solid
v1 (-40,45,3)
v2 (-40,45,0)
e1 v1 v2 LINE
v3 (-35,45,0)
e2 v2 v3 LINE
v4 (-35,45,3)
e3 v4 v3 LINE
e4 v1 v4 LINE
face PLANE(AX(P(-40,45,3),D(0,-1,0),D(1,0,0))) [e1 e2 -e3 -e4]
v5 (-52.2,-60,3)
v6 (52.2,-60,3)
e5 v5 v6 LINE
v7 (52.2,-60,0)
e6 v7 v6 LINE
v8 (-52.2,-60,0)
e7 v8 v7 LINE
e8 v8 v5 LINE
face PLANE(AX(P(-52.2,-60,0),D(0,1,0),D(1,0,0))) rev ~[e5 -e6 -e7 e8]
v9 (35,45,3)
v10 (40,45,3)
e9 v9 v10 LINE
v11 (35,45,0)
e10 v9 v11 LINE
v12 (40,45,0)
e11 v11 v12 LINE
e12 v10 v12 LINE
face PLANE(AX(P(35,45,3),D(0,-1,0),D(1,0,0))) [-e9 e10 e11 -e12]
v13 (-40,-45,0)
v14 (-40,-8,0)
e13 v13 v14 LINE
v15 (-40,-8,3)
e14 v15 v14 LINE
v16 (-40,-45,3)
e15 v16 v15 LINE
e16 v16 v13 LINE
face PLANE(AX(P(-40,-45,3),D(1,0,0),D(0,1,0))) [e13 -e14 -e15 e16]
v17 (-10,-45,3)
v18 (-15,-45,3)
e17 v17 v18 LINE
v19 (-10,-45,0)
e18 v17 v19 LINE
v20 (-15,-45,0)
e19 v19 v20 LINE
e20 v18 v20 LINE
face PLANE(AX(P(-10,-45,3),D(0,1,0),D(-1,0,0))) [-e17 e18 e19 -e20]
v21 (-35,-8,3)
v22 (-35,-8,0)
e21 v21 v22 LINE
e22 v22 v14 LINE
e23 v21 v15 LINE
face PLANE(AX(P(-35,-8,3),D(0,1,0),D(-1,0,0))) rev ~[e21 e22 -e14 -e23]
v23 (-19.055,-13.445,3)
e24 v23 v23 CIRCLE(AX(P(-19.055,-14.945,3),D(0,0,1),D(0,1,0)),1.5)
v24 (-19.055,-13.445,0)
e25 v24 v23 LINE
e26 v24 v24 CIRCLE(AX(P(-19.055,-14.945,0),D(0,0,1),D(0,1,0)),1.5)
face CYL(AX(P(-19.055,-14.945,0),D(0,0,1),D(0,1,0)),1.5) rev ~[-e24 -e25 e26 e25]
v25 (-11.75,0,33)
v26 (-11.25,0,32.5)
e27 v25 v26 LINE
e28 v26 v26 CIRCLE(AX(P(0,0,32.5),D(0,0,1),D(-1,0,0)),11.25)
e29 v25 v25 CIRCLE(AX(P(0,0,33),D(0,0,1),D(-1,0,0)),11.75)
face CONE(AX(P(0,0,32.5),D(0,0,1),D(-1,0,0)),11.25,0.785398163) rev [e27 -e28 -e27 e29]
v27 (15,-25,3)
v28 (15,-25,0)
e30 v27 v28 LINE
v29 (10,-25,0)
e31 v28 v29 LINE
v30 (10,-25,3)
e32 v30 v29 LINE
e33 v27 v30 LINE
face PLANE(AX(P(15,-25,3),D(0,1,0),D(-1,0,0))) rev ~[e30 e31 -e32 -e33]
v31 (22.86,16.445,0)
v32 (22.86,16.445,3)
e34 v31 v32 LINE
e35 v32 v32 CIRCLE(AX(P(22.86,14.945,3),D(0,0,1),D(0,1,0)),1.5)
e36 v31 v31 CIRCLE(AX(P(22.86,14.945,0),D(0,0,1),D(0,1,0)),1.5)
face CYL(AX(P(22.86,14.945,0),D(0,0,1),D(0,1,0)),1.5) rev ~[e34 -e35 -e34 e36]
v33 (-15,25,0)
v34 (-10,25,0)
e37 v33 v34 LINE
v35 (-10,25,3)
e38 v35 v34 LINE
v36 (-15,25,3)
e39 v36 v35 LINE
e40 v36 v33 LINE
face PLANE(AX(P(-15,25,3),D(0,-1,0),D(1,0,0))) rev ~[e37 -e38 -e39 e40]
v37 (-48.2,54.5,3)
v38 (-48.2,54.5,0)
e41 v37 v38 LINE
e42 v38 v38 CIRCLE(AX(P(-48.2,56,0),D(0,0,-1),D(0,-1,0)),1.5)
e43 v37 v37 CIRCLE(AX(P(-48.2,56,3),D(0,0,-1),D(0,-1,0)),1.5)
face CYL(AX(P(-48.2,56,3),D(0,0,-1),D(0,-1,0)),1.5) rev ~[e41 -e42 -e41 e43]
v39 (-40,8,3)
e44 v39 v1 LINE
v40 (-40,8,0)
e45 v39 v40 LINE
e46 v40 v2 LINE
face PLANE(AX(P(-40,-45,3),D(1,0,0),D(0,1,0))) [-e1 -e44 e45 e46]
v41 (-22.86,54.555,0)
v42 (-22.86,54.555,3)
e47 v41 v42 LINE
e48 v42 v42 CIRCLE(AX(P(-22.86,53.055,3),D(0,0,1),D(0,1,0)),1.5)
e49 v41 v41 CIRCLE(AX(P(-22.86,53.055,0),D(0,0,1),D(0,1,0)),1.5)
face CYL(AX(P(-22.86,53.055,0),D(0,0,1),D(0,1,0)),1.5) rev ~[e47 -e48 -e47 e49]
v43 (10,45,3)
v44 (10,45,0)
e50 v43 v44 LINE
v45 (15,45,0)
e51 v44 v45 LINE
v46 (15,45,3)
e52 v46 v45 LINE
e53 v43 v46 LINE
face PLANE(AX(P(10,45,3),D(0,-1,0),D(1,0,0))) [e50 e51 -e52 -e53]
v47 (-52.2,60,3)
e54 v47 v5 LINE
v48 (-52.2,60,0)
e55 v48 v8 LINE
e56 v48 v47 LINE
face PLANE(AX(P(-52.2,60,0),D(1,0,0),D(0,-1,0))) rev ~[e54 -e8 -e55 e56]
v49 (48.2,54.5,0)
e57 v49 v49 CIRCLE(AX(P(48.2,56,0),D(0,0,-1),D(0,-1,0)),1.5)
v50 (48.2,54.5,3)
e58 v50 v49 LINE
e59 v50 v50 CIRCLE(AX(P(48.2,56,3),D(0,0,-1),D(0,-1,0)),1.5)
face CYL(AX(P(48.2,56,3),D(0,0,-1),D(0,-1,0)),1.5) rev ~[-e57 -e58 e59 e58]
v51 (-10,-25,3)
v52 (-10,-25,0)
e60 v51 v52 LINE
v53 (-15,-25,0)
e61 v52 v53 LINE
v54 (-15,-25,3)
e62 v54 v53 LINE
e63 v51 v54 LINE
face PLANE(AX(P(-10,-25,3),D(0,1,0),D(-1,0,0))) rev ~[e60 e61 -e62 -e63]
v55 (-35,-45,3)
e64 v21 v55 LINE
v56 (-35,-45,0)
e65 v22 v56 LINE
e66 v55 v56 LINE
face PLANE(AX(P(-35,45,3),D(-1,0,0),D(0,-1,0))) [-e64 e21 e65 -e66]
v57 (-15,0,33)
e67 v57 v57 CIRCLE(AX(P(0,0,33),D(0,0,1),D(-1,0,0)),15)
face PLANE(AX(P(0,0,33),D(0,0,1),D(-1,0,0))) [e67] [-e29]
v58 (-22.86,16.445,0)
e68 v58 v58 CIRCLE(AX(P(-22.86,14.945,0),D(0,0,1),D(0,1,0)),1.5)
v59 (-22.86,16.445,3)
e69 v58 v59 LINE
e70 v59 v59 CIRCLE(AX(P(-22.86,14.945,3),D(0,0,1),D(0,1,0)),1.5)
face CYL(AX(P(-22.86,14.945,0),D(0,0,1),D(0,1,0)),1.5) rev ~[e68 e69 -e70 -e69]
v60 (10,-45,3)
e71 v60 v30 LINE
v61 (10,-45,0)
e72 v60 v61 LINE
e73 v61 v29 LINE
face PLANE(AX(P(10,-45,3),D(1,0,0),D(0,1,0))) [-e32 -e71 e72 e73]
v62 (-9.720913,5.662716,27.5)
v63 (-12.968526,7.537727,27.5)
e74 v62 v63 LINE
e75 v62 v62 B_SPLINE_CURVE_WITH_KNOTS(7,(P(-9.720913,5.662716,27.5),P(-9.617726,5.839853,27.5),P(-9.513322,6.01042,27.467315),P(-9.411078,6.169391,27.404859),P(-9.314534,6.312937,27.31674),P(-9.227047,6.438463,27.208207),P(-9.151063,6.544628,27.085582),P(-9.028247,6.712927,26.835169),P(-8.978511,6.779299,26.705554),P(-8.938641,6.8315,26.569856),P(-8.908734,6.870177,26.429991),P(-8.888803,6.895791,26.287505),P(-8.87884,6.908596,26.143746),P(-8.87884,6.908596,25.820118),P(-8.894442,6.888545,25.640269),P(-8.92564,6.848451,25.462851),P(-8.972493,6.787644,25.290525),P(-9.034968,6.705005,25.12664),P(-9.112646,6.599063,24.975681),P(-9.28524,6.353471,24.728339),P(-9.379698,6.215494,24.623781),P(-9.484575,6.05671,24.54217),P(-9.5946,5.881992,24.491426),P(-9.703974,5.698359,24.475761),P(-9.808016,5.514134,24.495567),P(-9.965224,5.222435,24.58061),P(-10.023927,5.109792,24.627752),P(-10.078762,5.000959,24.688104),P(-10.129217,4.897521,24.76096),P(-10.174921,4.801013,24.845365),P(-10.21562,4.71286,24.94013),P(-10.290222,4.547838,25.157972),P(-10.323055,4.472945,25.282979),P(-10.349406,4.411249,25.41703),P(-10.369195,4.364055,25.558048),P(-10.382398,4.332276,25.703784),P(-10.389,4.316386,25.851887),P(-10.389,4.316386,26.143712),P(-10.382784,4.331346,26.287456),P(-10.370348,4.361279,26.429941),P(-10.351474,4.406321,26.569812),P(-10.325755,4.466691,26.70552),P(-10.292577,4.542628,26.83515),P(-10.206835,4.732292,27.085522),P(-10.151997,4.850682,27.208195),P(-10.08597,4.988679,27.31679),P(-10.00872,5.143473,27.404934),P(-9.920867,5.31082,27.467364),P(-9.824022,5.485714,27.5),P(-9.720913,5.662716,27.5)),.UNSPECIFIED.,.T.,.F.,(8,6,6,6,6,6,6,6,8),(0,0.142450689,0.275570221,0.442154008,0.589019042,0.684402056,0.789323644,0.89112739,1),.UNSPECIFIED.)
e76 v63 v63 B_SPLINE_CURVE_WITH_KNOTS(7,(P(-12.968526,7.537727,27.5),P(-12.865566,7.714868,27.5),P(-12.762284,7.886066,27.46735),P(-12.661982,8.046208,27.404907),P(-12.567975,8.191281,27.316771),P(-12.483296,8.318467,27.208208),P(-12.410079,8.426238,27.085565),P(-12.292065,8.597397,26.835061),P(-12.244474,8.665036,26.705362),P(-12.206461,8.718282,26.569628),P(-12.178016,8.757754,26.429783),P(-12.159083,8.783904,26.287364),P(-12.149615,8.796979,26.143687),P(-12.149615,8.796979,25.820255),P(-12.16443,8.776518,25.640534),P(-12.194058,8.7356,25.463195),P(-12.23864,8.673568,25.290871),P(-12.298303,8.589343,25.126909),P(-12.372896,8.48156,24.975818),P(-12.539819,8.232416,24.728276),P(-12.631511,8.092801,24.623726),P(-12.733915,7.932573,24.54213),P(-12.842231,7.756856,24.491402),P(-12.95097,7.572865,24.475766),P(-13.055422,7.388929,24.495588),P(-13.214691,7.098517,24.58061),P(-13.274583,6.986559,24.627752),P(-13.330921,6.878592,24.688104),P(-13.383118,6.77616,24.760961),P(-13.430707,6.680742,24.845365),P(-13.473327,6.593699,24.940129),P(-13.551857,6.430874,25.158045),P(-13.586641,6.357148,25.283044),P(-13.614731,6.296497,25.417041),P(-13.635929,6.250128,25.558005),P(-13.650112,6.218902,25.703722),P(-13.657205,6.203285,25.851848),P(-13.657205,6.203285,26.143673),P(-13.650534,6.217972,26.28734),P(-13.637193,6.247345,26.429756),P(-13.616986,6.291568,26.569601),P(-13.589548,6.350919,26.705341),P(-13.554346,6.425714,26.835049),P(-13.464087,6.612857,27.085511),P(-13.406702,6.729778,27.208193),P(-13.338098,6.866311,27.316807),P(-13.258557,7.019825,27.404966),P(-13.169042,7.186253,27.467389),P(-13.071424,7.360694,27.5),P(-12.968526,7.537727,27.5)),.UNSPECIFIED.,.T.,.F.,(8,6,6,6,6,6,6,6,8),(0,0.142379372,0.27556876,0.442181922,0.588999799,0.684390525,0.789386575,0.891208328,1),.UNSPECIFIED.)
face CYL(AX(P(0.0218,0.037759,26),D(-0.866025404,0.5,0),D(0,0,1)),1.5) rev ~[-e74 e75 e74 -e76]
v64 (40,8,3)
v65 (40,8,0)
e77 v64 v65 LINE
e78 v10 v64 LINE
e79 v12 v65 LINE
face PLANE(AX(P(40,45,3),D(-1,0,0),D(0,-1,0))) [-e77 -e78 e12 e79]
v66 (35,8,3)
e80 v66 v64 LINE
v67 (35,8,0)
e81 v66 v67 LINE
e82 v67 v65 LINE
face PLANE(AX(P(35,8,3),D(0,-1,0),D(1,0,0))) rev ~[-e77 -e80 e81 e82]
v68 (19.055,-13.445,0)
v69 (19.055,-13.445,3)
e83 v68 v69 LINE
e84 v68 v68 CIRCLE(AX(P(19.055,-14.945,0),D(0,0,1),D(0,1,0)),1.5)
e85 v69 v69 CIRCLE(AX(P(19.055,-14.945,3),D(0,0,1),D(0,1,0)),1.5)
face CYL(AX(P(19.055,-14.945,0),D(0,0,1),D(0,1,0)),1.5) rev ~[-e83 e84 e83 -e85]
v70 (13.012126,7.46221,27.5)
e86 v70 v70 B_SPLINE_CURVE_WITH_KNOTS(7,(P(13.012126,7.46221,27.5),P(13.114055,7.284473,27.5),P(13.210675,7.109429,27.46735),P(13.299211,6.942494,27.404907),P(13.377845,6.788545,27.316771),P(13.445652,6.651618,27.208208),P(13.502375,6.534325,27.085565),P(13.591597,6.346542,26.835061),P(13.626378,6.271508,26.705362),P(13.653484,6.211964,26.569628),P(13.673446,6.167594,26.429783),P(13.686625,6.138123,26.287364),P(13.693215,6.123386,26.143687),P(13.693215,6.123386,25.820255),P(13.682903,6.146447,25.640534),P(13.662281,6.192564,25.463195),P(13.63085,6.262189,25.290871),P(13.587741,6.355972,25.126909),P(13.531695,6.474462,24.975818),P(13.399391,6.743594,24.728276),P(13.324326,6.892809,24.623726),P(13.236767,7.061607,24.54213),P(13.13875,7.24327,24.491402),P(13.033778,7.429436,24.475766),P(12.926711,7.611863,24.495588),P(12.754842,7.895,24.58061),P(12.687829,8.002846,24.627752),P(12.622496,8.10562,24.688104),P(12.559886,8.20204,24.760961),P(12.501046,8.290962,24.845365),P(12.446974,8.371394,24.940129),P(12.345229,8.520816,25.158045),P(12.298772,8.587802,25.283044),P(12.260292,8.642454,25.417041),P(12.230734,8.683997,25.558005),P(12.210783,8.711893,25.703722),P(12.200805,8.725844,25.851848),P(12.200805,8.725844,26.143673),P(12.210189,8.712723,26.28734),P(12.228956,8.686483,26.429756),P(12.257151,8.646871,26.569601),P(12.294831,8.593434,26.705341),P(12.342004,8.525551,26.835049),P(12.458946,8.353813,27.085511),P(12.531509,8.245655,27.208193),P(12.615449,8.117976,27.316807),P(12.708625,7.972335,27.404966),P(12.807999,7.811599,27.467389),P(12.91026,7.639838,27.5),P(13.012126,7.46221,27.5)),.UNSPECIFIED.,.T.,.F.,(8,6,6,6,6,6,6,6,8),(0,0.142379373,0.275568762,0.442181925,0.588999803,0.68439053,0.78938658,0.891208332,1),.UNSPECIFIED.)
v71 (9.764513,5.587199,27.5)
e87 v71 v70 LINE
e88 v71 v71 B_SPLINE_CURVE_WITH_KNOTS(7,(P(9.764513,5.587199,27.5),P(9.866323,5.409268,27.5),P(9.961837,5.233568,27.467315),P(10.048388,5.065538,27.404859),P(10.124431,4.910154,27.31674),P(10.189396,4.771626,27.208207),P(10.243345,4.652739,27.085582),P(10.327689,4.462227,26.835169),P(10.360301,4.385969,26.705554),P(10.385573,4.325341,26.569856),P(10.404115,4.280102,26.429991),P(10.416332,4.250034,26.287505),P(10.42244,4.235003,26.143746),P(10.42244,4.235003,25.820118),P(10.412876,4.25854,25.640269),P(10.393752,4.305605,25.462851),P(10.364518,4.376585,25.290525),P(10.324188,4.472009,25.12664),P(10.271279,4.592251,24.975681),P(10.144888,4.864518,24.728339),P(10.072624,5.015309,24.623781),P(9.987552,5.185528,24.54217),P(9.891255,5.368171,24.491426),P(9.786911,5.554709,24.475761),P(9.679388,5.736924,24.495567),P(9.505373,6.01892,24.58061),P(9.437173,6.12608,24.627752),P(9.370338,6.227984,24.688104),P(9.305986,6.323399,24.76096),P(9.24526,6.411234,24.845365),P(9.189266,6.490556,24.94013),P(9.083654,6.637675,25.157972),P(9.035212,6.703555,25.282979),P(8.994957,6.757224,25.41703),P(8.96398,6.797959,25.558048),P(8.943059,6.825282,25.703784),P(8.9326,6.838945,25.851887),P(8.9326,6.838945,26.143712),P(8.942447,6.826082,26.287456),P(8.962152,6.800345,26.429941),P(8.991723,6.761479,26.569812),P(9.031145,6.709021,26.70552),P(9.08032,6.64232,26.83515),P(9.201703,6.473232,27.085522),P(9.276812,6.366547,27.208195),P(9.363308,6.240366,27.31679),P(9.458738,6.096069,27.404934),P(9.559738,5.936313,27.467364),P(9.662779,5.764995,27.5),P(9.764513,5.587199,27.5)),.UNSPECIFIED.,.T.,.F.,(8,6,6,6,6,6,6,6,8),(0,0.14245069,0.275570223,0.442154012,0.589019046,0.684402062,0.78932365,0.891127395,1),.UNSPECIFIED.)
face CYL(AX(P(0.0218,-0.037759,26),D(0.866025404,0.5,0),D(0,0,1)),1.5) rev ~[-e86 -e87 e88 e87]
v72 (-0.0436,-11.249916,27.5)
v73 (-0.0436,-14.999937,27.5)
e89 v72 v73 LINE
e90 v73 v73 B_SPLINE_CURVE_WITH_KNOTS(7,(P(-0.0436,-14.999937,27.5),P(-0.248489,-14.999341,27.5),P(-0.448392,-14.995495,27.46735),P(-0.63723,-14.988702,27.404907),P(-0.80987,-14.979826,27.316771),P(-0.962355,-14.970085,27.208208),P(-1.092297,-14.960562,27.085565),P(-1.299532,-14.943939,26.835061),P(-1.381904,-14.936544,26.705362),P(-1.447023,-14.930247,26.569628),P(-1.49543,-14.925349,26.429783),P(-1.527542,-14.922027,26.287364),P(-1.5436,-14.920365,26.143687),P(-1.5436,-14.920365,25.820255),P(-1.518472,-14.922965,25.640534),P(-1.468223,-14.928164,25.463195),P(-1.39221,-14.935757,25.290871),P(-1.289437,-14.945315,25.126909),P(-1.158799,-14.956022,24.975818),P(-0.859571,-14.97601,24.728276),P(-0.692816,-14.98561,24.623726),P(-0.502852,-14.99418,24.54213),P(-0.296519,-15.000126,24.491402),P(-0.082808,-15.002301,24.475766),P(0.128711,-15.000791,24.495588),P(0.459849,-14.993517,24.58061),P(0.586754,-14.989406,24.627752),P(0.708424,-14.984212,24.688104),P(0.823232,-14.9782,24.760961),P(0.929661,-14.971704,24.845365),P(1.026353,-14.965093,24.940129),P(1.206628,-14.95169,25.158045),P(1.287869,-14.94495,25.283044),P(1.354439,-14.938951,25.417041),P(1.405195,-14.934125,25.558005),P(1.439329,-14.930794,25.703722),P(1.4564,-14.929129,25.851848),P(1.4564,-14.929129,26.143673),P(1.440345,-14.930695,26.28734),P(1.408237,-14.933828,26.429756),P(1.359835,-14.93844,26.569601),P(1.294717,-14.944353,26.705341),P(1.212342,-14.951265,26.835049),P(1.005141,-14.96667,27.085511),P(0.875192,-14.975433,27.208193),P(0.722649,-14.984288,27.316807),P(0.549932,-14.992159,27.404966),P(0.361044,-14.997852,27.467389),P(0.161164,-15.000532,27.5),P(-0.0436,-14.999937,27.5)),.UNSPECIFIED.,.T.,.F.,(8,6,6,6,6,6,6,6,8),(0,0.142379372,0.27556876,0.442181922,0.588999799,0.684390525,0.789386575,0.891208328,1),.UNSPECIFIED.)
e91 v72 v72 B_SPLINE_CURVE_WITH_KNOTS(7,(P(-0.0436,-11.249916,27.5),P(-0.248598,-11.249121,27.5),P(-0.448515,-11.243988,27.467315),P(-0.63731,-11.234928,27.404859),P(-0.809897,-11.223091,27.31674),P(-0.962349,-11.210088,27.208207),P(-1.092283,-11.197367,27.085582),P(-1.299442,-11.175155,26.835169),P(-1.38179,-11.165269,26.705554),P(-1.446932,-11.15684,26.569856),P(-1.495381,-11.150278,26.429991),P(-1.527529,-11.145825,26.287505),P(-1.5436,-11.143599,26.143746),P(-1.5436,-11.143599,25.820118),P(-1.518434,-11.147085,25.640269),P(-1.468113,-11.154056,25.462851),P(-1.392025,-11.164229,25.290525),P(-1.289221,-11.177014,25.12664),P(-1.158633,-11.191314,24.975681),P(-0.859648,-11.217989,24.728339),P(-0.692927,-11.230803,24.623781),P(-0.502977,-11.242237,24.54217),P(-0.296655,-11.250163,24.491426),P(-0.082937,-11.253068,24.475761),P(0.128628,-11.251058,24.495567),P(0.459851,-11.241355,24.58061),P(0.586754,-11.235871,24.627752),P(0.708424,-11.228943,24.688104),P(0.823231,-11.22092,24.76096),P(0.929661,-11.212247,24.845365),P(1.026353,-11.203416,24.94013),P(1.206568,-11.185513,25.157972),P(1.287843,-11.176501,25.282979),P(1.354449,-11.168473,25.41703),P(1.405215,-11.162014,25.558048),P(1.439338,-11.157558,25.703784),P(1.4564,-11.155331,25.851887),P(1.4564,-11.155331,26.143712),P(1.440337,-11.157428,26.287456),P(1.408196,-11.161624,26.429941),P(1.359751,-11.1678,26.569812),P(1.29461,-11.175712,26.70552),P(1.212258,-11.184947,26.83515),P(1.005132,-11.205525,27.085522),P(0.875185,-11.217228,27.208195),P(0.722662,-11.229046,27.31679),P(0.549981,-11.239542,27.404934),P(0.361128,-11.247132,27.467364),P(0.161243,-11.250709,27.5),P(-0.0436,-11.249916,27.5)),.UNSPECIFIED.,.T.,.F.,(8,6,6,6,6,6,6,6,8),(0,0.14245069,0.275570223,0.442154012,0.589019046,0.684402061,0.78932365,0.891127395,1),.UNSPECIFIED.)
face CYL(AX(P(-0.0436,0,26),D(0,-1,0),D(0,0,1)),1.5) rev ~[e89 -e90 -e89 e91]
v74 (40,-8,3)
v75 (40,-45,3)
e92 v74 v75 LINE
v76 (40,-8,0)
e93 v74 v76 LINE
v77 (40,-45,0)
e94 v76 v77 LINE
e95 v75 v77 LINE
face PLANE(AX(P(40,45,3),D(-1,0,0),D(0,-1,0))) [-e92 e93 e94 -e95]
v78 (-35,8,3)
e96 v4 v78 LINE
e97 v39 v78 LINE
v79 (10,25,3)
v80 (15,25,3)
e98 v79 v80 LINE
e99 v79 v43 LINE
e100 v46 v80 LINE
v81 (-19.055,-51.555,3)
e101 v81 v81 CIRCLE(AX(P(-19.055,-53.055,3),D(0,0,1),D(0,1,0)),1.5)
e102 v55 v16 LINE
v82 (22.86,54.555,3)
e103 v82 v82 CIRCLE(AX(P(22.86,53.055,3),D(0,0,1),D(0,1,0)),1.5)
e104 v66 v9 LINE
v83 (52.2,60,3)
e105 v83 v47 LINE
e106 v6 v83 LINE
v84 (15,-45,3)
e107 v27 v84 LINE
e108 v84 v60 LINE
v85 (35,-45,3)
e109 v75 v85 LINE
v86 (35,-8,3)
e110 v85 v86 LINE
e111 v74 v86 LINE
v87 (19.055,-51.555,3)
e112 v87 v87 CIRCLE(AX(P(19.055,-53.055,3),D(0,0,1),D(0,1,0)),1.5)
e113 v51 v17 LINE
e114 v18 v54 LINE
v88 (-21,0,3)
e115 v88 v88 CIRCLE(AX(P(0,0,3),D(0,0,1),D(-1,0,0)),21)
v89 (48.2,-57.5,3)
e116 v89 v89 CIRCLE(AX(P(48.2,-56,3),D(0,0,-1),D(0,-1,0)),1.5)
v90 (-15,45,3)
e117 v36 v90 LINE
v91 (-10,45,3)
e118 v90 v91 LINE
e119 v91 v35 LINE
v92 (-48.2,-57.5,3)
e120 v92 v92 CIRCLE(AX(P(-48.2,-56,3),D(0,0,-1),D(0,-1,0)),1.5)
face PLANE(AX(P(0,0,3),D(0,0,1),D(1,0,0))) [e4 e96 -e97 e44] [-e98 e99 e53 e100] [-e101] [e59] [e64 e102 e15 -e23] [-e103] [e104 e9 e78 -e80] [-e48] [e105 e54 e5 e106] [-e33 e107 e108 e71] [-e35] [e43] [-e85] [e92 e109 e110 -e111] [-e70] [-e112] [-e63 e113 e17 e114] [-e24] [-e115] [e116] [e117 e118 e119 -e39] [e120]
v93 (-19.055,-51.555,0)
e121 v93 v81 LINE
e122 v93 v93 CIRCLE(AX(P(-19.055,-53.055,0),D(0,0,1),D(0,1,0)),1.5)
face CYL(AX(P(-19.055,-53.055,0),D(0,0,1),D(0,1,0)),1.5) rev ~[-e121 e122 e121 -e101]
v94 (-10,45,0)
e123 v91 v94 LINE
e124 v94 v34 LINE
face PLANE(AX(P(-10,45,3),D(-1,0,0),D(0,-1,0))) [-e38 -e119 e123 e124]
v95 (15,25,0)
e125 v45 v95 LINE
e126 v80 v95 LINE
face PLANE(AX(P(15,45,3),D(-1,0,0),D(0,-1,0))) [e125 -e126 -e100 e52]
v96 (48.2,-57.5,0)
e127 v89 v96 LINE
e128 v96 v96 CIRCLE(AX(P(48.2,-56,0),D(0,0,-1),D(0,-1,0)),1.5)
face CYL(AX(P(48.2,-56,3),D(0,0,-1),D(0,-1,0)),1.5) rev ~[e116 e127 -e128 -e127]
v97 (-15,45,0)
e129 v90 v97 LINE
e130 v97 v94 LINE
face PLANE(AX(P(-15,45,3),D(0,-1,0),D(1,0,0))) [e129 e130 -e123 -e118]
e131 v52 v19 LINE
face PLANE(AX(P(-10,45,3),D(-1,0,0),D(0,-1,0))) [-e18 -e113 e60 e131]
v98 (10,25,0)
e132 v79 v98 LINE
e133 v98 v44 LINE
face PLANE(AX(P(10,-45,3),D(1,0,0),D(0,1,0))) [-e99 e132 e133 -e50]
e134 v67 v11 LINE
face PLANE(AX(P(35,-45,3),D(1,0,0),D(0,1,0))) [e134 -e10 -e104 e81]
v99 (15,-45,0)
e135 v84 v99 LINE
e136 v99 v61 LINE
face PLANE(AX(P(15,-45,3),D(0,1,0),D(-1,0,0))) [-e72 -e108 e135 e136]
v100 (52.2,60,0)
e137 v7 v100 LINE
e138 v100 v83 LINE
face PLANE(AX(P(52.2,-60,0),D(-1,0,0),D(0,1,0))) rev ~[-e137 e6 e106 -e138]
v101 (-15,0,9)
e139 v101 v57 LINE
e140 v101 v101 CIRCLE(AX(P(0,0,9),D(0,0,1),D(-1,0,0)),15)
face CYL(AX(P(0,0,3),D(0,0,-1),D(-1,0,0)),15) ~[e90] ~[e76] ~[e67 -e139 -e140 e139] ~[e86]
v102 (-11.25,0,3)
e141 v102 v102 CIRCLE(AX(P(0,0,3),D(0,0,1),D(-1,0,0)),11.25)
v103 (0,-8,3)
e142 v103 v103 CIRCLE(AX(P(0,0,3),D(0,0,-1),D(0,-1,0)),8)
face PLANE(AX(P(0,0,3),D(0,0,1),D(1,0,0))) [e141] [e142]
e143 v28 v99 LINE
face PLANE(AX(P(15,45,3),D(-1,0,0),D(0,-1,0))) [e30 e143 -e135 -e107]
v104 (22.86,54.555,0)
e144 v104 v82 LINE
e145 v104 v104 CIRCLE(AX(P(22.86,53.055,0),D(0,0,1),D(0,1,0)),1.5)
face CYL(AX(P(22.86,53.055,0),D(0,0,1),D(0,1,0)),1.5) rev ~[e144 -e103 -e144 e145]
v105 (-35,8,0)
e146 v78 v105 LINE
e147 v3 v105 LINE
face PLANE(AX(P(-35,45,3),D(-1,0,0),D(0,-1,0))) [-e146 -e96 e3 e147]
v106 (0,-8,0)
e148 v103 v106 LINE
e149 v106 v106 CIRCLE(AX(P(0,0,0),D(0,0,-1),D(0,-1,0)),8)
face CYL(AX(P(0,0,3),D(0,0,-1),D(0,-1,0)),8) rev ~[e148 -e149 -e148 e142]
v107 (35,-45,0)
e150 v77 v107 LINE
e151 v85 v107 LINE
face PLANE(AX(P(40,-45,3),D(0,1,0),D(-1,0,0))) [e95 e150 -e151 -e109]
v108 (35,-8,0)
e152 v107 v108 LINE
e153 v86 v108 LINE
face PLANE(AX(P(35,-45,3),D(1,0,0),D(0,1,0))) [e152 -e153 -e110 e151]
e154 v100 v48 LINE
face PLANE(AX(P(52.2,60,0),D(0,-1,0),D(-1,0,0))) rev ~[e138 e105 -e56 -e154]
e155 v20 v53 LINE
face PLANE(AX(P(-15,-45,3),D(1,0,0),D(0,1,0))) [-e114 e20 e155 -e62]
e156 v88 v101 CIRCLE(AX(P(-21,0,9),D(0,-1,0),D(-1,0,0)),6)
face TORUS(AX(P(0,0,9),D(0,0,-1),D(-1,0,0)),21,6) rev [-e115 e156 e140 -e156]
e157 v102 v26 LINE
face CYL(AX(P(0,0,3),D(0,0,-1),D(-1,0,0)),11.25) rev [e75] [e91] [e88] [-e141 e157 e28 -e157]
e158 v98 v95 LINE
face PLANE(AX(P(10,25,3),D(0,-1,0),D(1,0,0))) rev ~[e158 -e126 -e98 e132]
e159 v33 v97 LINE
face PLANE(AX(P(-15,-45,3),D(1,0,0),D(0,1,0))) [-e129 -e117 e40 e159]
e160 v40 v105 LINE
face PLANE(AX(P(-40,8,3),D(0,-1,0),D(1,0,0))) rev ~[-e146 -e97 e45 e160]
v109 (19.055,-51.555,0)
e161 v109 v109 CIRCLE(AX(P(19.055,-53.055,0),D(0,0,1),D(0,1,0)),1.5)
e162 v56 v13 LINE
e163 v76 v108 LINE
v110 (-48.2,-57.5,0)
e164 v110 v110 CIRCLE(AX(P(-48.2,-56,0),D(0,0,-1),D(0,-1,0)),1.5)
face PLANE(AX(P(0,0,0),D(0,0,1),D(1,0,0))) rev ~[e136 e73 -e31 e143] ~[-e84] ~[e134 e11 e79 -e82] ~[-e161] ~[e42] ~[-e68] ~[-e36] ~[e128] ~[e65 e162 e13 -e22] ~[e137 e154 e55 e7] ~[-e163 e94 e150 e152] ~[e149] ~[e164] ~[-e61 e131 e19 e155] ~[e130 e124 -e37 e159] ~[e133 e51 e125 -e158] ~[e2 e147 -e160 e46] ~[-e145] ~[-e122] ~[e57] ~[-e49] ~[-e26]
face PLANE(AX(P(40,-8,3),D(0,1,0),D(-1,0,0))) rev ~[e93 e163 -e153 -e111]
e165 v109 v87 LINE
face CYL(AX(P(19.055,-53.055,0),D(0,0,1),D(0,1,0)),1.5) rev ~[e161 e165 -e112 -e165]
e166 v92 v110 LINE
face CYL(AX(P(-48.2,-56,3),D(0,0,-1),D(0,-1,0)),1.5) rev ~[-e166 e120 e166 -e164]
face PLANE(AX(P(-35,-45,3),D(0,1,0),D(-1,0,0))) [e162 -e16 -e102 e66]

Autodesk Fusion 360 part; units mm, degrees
sketch "Sketch1" plane through (0, 0, 0) normal (0, 0, 1) x (1, 0, 0)
  line L0 (-52.2, -60) -> (52.2, -60)
  line L1 (52.2, -60) -> (52.2, 60)
  line L2 (52.2, 60) -> (-52.2, 60)
  line L3 (-52.2, 60) -> (-52.2, -60)
  dimension "d1" = 104.4
  dimension "d2" = 120
  dimension "d3" = 60
  dimension "d4" = 52.2
extrude "Extrude1" add sketch "Sketch1" along normal blind 3
sketch "Sketch2" plane through (0, 0, 3) normal (0, 0, 1) x (-1, 0, 0)
  line L0 (52.2, -60) -> (52.2, 60)
  line L1 (52.2, 60) -> (-52.2, 60)
  line L2 (-52.2, 60) -> (-52.2, -60)
  line L3 (-52.2, -60) -> (52.2, -60)
  circle A0 centre (-48.2, -56) radius 1.5
  circle A1 centre (48.2, -56) radius 1.5
  circle A2 centre (48.2, 56) radius 1.5
  circle A3 centre (-48.2, 56) radius 1.5
  dimension "d7" = 3
  dimension "d8" = 3
  dimension "d9" = 3
  dimension "d10" = 3
  dimension "d11" = 4
  dimension "d12" = 4
  dimension "d13" = 4
  dimension "d14" = 4
  dimension "d15" = 4
  dimension "d16" = 4
  dimension "d17" = 4
  dimension "d18" = 4
hole "Hole1" at (-48.2, 56, 3) at (48.2, 56, 3) at (48.2, -56, 3) at (-48.2, -56, 3) direction (0, 0, -1) diameter 3 depth 3 tip angle 118
sketch "Sketch4" plane through (0, 0, 3) normal (0, 0, 1) x (-1, 0, 0)
  circle A0 centre (-48.2, 56) radius 1.5
  circle A1 centre (48.2, -56) radius 1.5
  circle A2 centre (-48.2, -56) radius 1.5
  circle A3 centre (48.2, 56) radius 1.5
  line L0 (52.2, -60) -> (52.2, 60)
  line L1 (52.2, 60) -> (-52.2, 60)
  line L2 (-52.2, 60) -> (-52.2, -60)
  line L3 (-52.2, -60) -> (52.2, -60)
  line L4 (40, -45) -> (35, -45)
  line L5 (35, -45) -> (35, 45)
  line L6 (35, 45) -> (40, 45)
  line L7 (40, 45) -> (40, -45)
  line L8 (10, -45) -> (10, 45)
  line L9 (10, 45) -> (15, 45)
  line L10 (15, 45) -> (15, -45)
  line L11 (15, -45) -> (10, -45)
  line L12 (-15, -45) -> (-15, 45)
  line L13 (-15, 45) -> (-10, 45)
  line L14 (-10, 45) -> (-10, -45)
  line L15 (-10, -45) -> (-15, -45)
  line L16 (-40, -45) -> (-40, 45)
  line L17 (-40, 45) -> (-35, 45)
  line L18 (-35, 45) -> (-35, -45)
  line L19 (-35, -45) -> (-40, -45)
  dimension "d39" = -75
  dimension "d40" = 0
  dimension "d41" = 5
  dimension "d42" = 90
  dimension "d43" = 40
  dimension "d44" = 45
extrude "Extrude2" cut sketch "Sketch4" against normal blind 3 contours L4 L5 L6 L7 | L8 L9 L10 L11 | L12 L13 L14 L15 | L16 L17 L18 L19
sketch "Sketch6" plane through (0, 0, 3) normal (0, 0, 1) x (-1, 0, 0)
  line L0 (10, 45) -> (15, 45)
  line L1 (15, 45) -> (15, -45)
  line L2 (15, -45) -> (10, -45)
  line L3 (10, -45) -> (10, 45)
  line L4 (-15, 45) -> (-10, 45)
  line L5 (-10, 45) -> (-10, -45)
  line L6 (-10, -45) -> (-15, -45)
  line L7 (-15, -45) -> (-15, 45)
  line L8 (35, -45) -> (35, 45)
  line L9 (35, 45) -> (40, 45)
  line L10 (40, 45) -> (40, -45)
  line L11 (40, -45) -> (35, -45)
  line L12 (-40, 45) -> (-35, 45)
  line L13 (-35, 45) -> (-35, -45)
  line L14 (-35, -45) -> (-40, -45)
  line L15 (-40, -45) -> (-40, 45)
  circle A0 centre (-48.2, 56) radius 1.5
  circle A1 centre (48.2, -56) radius 1.5
  circle A2 centre (-48.2, -56) radius 1.5
  circle A3 centre (48.2, 56) radius 1.5
  line L16 (52.2, -60) -> (52.2, 60)
  line L17 (52.2, 60) -> (-52.2, 60)
  line L18 (-52.2, 60) -> (-52.2, -60)
  line L19 (-52.2, -60) -> (52.2, -60)
  line L20 (-15, 25) -> (15, 25)
  line L21 (15, 25) -> (15, -25)
  line L22 (15, -25) -> (-15, -25)
  line L23 (-15, -25) -> (-15, 25)
  line L24 (-15, 25) -> (15, -25) construction
  line L25 (15, 25) -> (-15, -25) construction
  line L26 (40, -8) -> (35, -8)
  line L27 (35, -8) -> (35, 8)
  line L28 (35, 8) -> (40, 8)
  line L29 (40, 8) -> (40, -8)
  line L30 (-35, -8) -> (-40, -8)
  line L31 (-40, -8) -> (-40, 8)
  line L32 (-40, 8) -> (-35, 8)
  line L33 (-35, 8) -> (-35, -8)
  dimension "d49" = 50
  dimension "d56" = 8
  dimension "d57" = 16
  dimension "d58" = 8
  dimension "d59" = 16
extrude "Extrude3" add sketch "Sketch6" against normal blind 3 contours L1 L3 L20 L21 L22 | L5 L7 L20 L22 L23 | L8 L10 L26 L27 L28 L29 | L13 L15 L30 L31 L32 L33
sketch "Sketch5" plane through (0, 0, 3) normal (0, 0, 1) x (-1, 0, 0)
  line L0 (10, 45) -> (15, 45)
  line L1 (15, 45) -> (15, 25)
  line L2 (15, -45) -> (10, -45)
  line L3 (10, 25) -> (10, 45)
  line L4 (-15, 45) -> (-10, 45)
  line L5 (-10, -25) -> (-10, -45)
  line L6 (-10, -45) -> (-15, -45)
  line L7 (-15, -45) -> (-15, -25)
  line L8 (35, 8) -> (35, 45)
  line L9 (35, 45) -> (40, 45)
  line L10 (40, 45) -> (40, 8)
  line L11 (40, -45) -> (35, -45)
  line L12 (-40, 45) -> (-35, 45)
  line L13 (-35, 45) -> (-35, 8)
  line L14 (-35, -45) -> (-40, -45)
  line L15 (-40, 8) -> (-40, 45)
  circle A0 centre (-48.2, 56) radius 1.5
  circle A1 centre (48.2, -56) radius 1.5
  circle A2 centre (-48.2, -56) radius 1.5
  circle A3 centre (48.2, 56) radius 1.5
  line L16 (52.2, -60) -> (52.2, 60)
  line L17 (52.2, 60) -> (-52.2, 60)
  line L18 (-52.2, 60) -> (-52.2, -60)
  line L19 (-52.2, -60) -> (52.2, -60)
  circle A4 centre (0, 0) radius 11.25
  circle A5 centre (0, 0) radius 15
  line L20 (15, 25) -> (10, 25)
  line L21 (-15, -25) -> (-10, -25)
  line L22 (10, -25) -> (15, -25)
  line L23 (15, -25) -> (15, -45)
  line L24 (10, -45) -> (10, -25)
  line L25 (-10, 25) -> (-15, 25)
  line L26 (-15, 25) -> (-15, 45)
  line L27 (-10, 45) -> (-10, 25)
  line L28 (-35, 8) -> (-40, 8)
  line L29 (40, 8) -> (35, 8)
  line L30 (35, -8) -> (40, -8)
  line L31 (40, -8) -> (40, -45)
  line L32 (35, -45) -> (35, -8)
  line L33 (-40, -8) -> (-35, -8)
  line L34 (-35, -8) -> (-35, -45)
  line L35 (-40, -45) -> (-40, -8)
  dimension "d47" = 22.5
  dimension "d48" = 30
extrude "Extrude4" add sketch "Sketch5" along normal blind 30 contours A5
fillet "Fillet1" radius 6 1 edges at (13.9849, -5.4242, 3)
chamfer "Chamfer1" distance 0.5 angle 45 1 edges at (10.4887, -4.0682, 33)
sketch "Sketch7" plane through (0, 0, 0) normal (0, 1, 0) x (1, 0, 0)
  circle A0 centre (-0.0436, -26) radius 1.5
  dimension "d61" = 26
  dimension "d62" = 3
hole "Hole3" at (-0.0436, 0, 26) direction (0, -1, 0) diameter 3 depth 17 tip angle 118
thread "Thread1"
pattern_circular "C-Pattern1" count 3 over 360 about axis through (0, 0, 1.75) along (0, 0, 1) of "Hole3"
hole "Hole4" at (0, 0, 3) direction (0, 0, -1) diameter 16 depth 3 tip angle 118
sketch "Sketch8" plane through (0, 0, 0) normal (0, 0, -1) x (1, 0, 0)
  circle A0 centre (0, 0) radius 8
  line L0 (40, -8) -> (40, -45)
  line L1 (40, -45) -> (35, -45)
  line L2 (35, -45) -> (35, -8)
  line L3 (35, -8) -> (40, -8)
  line L4 (-10, -25) -> (-10, -45)
  line L5 (-10, -45) -> (-15, -45)
  line L6 (-15, -45) -> (-15, -25)
  line L7 (-15, -25) -> (-10, -25)
  line L8 (-35, -8) -> (-35, -45)
  line L9 (-35, -45) -> (-40, -45)
  line L10 (-40, -45) -> (-40, -8)
  line L11 (-40, -8) -> (-35, -8)
  line L12 (10, 25) -> (10, 45)
  line L13 (10, 45) -> (15, 45)
  line L14 (15, 45) -> (15, 25)
  line L15 (15, 25) -> (10, 25)
  line L16 (-10, 25) -> (-15, 25)
  line L17 (-15, 25) -> (-15, 45)
  line L18 (-15, 45) -> (-10, 45)
  line L19 (-10, 45) -> (-10, 25)
  line L20 (10, -25) -> (15, -25)
  line L21 (15, -25) -> (15, -45)
  line L22 (15, -45) -> (10, -45)
  line L23 (10, -45) -> (10, -25)
  line L24 (-35, 8) -> (-40, 8)
  line L25 (-40, 8) -> (-40, 45)
  line L26 (-40, 45) -> (-35, 45)
  line L27 (-35, 45) -> (-35, 8)
  line L28 (40, 8) -> (35, 8)
  line L29 (35, 8) -> (35, 45)
  line L30 (35, 45) -> (40, 45)
  line L31 (40, 45) -> (40, 8)
  circle A1 centre (48.2, 56) radius 1.5
  circle A2 centre (-48.2, -56) radius 1.5
  circle A3 centre (48.2, -56) radius 1.5
  circle A4 centre (-48.2, 56) radius 1.5
  line L32 (-52.2, 60) -> (-52.2, -60)
  line L33 (-52.2, -60) -> (52.2, -60)
  line L34 (52.2, -60) -> (52.2, 60)
  line L35 (52.2, 60) -> (-52.2, 60)
  line L36 (-21.595, 55.595) -> (21.595, 55.595)
  line L37 (21.595, 55.595) -> (21.595, 12.405)
  line L38 (21.595, 12.405) -> (-21.595, 12.405)
  line L39 (-21.595, 12.405) -> (-21.595, 55.595)
  line L40 (-25.4, -12.405) -> (25.4, -12.405)
  line L41 (25.4, -12.405) -> (25.4, -55.595)
  line L42 (25.4, -55.595) -> (-25.4, -55.595)
  line L43 (-25.4, -55.595) -> (-25.4, -12.405)
  line L44 (-19.055, 53.055) -> (19.055, 53.055)
  line L45 (19.055, 53.055) -> (19.055, 14.945)
  line L46 (19.055, 14.945) -> (-19.055, 14.945)
  line L47 (-19.055, 14.945) -> (-19.055, 53.055)
  line L48 (-22.86, -14.945) -> (22.86, -14.945)
  line L49 (22.86, -14.945) -> (22.86, -53.055)
  line L50 (22.86, -53.055) -> (-22.86, -53.055)
  line L51 (-22.86, -53.055) -> (-22.86, -14.945)
  dimension "d71" = 43.19
  dimension "d72" = 43.19
  dimension "d73" = 50.8
  dimension "d74" = 43.19
  dimension "d75" = 2.54
  dimension "d76" = 2.54
  dimension "d77" = 2.54
  dimension "d78" = 2.54
  dimension "d79" = 2.54
  dimension "d80" = 2.54
  dimension "d81" = 2.54
  dimension "d82" = 2.54
  dimension "d83" = 25.4
  dimension "d84" = 21.595
  dimension "d85" = 4.405
  dimension "d86" = 4.405
hole "Hole5" at (-19.055, -53.055, 0) at (19.055, -53.055, 0) at (19.055, -14.945, 0) at (-19.055, -14.945, 0) at (-22.86, 14.945, 0) at (-22.86, 53.055, 0) at (22.86, 53.055, 0) at (22.86, 14.945, 0) direction (0, 0, 1) diameter 3 depth 3 tip angle 118
